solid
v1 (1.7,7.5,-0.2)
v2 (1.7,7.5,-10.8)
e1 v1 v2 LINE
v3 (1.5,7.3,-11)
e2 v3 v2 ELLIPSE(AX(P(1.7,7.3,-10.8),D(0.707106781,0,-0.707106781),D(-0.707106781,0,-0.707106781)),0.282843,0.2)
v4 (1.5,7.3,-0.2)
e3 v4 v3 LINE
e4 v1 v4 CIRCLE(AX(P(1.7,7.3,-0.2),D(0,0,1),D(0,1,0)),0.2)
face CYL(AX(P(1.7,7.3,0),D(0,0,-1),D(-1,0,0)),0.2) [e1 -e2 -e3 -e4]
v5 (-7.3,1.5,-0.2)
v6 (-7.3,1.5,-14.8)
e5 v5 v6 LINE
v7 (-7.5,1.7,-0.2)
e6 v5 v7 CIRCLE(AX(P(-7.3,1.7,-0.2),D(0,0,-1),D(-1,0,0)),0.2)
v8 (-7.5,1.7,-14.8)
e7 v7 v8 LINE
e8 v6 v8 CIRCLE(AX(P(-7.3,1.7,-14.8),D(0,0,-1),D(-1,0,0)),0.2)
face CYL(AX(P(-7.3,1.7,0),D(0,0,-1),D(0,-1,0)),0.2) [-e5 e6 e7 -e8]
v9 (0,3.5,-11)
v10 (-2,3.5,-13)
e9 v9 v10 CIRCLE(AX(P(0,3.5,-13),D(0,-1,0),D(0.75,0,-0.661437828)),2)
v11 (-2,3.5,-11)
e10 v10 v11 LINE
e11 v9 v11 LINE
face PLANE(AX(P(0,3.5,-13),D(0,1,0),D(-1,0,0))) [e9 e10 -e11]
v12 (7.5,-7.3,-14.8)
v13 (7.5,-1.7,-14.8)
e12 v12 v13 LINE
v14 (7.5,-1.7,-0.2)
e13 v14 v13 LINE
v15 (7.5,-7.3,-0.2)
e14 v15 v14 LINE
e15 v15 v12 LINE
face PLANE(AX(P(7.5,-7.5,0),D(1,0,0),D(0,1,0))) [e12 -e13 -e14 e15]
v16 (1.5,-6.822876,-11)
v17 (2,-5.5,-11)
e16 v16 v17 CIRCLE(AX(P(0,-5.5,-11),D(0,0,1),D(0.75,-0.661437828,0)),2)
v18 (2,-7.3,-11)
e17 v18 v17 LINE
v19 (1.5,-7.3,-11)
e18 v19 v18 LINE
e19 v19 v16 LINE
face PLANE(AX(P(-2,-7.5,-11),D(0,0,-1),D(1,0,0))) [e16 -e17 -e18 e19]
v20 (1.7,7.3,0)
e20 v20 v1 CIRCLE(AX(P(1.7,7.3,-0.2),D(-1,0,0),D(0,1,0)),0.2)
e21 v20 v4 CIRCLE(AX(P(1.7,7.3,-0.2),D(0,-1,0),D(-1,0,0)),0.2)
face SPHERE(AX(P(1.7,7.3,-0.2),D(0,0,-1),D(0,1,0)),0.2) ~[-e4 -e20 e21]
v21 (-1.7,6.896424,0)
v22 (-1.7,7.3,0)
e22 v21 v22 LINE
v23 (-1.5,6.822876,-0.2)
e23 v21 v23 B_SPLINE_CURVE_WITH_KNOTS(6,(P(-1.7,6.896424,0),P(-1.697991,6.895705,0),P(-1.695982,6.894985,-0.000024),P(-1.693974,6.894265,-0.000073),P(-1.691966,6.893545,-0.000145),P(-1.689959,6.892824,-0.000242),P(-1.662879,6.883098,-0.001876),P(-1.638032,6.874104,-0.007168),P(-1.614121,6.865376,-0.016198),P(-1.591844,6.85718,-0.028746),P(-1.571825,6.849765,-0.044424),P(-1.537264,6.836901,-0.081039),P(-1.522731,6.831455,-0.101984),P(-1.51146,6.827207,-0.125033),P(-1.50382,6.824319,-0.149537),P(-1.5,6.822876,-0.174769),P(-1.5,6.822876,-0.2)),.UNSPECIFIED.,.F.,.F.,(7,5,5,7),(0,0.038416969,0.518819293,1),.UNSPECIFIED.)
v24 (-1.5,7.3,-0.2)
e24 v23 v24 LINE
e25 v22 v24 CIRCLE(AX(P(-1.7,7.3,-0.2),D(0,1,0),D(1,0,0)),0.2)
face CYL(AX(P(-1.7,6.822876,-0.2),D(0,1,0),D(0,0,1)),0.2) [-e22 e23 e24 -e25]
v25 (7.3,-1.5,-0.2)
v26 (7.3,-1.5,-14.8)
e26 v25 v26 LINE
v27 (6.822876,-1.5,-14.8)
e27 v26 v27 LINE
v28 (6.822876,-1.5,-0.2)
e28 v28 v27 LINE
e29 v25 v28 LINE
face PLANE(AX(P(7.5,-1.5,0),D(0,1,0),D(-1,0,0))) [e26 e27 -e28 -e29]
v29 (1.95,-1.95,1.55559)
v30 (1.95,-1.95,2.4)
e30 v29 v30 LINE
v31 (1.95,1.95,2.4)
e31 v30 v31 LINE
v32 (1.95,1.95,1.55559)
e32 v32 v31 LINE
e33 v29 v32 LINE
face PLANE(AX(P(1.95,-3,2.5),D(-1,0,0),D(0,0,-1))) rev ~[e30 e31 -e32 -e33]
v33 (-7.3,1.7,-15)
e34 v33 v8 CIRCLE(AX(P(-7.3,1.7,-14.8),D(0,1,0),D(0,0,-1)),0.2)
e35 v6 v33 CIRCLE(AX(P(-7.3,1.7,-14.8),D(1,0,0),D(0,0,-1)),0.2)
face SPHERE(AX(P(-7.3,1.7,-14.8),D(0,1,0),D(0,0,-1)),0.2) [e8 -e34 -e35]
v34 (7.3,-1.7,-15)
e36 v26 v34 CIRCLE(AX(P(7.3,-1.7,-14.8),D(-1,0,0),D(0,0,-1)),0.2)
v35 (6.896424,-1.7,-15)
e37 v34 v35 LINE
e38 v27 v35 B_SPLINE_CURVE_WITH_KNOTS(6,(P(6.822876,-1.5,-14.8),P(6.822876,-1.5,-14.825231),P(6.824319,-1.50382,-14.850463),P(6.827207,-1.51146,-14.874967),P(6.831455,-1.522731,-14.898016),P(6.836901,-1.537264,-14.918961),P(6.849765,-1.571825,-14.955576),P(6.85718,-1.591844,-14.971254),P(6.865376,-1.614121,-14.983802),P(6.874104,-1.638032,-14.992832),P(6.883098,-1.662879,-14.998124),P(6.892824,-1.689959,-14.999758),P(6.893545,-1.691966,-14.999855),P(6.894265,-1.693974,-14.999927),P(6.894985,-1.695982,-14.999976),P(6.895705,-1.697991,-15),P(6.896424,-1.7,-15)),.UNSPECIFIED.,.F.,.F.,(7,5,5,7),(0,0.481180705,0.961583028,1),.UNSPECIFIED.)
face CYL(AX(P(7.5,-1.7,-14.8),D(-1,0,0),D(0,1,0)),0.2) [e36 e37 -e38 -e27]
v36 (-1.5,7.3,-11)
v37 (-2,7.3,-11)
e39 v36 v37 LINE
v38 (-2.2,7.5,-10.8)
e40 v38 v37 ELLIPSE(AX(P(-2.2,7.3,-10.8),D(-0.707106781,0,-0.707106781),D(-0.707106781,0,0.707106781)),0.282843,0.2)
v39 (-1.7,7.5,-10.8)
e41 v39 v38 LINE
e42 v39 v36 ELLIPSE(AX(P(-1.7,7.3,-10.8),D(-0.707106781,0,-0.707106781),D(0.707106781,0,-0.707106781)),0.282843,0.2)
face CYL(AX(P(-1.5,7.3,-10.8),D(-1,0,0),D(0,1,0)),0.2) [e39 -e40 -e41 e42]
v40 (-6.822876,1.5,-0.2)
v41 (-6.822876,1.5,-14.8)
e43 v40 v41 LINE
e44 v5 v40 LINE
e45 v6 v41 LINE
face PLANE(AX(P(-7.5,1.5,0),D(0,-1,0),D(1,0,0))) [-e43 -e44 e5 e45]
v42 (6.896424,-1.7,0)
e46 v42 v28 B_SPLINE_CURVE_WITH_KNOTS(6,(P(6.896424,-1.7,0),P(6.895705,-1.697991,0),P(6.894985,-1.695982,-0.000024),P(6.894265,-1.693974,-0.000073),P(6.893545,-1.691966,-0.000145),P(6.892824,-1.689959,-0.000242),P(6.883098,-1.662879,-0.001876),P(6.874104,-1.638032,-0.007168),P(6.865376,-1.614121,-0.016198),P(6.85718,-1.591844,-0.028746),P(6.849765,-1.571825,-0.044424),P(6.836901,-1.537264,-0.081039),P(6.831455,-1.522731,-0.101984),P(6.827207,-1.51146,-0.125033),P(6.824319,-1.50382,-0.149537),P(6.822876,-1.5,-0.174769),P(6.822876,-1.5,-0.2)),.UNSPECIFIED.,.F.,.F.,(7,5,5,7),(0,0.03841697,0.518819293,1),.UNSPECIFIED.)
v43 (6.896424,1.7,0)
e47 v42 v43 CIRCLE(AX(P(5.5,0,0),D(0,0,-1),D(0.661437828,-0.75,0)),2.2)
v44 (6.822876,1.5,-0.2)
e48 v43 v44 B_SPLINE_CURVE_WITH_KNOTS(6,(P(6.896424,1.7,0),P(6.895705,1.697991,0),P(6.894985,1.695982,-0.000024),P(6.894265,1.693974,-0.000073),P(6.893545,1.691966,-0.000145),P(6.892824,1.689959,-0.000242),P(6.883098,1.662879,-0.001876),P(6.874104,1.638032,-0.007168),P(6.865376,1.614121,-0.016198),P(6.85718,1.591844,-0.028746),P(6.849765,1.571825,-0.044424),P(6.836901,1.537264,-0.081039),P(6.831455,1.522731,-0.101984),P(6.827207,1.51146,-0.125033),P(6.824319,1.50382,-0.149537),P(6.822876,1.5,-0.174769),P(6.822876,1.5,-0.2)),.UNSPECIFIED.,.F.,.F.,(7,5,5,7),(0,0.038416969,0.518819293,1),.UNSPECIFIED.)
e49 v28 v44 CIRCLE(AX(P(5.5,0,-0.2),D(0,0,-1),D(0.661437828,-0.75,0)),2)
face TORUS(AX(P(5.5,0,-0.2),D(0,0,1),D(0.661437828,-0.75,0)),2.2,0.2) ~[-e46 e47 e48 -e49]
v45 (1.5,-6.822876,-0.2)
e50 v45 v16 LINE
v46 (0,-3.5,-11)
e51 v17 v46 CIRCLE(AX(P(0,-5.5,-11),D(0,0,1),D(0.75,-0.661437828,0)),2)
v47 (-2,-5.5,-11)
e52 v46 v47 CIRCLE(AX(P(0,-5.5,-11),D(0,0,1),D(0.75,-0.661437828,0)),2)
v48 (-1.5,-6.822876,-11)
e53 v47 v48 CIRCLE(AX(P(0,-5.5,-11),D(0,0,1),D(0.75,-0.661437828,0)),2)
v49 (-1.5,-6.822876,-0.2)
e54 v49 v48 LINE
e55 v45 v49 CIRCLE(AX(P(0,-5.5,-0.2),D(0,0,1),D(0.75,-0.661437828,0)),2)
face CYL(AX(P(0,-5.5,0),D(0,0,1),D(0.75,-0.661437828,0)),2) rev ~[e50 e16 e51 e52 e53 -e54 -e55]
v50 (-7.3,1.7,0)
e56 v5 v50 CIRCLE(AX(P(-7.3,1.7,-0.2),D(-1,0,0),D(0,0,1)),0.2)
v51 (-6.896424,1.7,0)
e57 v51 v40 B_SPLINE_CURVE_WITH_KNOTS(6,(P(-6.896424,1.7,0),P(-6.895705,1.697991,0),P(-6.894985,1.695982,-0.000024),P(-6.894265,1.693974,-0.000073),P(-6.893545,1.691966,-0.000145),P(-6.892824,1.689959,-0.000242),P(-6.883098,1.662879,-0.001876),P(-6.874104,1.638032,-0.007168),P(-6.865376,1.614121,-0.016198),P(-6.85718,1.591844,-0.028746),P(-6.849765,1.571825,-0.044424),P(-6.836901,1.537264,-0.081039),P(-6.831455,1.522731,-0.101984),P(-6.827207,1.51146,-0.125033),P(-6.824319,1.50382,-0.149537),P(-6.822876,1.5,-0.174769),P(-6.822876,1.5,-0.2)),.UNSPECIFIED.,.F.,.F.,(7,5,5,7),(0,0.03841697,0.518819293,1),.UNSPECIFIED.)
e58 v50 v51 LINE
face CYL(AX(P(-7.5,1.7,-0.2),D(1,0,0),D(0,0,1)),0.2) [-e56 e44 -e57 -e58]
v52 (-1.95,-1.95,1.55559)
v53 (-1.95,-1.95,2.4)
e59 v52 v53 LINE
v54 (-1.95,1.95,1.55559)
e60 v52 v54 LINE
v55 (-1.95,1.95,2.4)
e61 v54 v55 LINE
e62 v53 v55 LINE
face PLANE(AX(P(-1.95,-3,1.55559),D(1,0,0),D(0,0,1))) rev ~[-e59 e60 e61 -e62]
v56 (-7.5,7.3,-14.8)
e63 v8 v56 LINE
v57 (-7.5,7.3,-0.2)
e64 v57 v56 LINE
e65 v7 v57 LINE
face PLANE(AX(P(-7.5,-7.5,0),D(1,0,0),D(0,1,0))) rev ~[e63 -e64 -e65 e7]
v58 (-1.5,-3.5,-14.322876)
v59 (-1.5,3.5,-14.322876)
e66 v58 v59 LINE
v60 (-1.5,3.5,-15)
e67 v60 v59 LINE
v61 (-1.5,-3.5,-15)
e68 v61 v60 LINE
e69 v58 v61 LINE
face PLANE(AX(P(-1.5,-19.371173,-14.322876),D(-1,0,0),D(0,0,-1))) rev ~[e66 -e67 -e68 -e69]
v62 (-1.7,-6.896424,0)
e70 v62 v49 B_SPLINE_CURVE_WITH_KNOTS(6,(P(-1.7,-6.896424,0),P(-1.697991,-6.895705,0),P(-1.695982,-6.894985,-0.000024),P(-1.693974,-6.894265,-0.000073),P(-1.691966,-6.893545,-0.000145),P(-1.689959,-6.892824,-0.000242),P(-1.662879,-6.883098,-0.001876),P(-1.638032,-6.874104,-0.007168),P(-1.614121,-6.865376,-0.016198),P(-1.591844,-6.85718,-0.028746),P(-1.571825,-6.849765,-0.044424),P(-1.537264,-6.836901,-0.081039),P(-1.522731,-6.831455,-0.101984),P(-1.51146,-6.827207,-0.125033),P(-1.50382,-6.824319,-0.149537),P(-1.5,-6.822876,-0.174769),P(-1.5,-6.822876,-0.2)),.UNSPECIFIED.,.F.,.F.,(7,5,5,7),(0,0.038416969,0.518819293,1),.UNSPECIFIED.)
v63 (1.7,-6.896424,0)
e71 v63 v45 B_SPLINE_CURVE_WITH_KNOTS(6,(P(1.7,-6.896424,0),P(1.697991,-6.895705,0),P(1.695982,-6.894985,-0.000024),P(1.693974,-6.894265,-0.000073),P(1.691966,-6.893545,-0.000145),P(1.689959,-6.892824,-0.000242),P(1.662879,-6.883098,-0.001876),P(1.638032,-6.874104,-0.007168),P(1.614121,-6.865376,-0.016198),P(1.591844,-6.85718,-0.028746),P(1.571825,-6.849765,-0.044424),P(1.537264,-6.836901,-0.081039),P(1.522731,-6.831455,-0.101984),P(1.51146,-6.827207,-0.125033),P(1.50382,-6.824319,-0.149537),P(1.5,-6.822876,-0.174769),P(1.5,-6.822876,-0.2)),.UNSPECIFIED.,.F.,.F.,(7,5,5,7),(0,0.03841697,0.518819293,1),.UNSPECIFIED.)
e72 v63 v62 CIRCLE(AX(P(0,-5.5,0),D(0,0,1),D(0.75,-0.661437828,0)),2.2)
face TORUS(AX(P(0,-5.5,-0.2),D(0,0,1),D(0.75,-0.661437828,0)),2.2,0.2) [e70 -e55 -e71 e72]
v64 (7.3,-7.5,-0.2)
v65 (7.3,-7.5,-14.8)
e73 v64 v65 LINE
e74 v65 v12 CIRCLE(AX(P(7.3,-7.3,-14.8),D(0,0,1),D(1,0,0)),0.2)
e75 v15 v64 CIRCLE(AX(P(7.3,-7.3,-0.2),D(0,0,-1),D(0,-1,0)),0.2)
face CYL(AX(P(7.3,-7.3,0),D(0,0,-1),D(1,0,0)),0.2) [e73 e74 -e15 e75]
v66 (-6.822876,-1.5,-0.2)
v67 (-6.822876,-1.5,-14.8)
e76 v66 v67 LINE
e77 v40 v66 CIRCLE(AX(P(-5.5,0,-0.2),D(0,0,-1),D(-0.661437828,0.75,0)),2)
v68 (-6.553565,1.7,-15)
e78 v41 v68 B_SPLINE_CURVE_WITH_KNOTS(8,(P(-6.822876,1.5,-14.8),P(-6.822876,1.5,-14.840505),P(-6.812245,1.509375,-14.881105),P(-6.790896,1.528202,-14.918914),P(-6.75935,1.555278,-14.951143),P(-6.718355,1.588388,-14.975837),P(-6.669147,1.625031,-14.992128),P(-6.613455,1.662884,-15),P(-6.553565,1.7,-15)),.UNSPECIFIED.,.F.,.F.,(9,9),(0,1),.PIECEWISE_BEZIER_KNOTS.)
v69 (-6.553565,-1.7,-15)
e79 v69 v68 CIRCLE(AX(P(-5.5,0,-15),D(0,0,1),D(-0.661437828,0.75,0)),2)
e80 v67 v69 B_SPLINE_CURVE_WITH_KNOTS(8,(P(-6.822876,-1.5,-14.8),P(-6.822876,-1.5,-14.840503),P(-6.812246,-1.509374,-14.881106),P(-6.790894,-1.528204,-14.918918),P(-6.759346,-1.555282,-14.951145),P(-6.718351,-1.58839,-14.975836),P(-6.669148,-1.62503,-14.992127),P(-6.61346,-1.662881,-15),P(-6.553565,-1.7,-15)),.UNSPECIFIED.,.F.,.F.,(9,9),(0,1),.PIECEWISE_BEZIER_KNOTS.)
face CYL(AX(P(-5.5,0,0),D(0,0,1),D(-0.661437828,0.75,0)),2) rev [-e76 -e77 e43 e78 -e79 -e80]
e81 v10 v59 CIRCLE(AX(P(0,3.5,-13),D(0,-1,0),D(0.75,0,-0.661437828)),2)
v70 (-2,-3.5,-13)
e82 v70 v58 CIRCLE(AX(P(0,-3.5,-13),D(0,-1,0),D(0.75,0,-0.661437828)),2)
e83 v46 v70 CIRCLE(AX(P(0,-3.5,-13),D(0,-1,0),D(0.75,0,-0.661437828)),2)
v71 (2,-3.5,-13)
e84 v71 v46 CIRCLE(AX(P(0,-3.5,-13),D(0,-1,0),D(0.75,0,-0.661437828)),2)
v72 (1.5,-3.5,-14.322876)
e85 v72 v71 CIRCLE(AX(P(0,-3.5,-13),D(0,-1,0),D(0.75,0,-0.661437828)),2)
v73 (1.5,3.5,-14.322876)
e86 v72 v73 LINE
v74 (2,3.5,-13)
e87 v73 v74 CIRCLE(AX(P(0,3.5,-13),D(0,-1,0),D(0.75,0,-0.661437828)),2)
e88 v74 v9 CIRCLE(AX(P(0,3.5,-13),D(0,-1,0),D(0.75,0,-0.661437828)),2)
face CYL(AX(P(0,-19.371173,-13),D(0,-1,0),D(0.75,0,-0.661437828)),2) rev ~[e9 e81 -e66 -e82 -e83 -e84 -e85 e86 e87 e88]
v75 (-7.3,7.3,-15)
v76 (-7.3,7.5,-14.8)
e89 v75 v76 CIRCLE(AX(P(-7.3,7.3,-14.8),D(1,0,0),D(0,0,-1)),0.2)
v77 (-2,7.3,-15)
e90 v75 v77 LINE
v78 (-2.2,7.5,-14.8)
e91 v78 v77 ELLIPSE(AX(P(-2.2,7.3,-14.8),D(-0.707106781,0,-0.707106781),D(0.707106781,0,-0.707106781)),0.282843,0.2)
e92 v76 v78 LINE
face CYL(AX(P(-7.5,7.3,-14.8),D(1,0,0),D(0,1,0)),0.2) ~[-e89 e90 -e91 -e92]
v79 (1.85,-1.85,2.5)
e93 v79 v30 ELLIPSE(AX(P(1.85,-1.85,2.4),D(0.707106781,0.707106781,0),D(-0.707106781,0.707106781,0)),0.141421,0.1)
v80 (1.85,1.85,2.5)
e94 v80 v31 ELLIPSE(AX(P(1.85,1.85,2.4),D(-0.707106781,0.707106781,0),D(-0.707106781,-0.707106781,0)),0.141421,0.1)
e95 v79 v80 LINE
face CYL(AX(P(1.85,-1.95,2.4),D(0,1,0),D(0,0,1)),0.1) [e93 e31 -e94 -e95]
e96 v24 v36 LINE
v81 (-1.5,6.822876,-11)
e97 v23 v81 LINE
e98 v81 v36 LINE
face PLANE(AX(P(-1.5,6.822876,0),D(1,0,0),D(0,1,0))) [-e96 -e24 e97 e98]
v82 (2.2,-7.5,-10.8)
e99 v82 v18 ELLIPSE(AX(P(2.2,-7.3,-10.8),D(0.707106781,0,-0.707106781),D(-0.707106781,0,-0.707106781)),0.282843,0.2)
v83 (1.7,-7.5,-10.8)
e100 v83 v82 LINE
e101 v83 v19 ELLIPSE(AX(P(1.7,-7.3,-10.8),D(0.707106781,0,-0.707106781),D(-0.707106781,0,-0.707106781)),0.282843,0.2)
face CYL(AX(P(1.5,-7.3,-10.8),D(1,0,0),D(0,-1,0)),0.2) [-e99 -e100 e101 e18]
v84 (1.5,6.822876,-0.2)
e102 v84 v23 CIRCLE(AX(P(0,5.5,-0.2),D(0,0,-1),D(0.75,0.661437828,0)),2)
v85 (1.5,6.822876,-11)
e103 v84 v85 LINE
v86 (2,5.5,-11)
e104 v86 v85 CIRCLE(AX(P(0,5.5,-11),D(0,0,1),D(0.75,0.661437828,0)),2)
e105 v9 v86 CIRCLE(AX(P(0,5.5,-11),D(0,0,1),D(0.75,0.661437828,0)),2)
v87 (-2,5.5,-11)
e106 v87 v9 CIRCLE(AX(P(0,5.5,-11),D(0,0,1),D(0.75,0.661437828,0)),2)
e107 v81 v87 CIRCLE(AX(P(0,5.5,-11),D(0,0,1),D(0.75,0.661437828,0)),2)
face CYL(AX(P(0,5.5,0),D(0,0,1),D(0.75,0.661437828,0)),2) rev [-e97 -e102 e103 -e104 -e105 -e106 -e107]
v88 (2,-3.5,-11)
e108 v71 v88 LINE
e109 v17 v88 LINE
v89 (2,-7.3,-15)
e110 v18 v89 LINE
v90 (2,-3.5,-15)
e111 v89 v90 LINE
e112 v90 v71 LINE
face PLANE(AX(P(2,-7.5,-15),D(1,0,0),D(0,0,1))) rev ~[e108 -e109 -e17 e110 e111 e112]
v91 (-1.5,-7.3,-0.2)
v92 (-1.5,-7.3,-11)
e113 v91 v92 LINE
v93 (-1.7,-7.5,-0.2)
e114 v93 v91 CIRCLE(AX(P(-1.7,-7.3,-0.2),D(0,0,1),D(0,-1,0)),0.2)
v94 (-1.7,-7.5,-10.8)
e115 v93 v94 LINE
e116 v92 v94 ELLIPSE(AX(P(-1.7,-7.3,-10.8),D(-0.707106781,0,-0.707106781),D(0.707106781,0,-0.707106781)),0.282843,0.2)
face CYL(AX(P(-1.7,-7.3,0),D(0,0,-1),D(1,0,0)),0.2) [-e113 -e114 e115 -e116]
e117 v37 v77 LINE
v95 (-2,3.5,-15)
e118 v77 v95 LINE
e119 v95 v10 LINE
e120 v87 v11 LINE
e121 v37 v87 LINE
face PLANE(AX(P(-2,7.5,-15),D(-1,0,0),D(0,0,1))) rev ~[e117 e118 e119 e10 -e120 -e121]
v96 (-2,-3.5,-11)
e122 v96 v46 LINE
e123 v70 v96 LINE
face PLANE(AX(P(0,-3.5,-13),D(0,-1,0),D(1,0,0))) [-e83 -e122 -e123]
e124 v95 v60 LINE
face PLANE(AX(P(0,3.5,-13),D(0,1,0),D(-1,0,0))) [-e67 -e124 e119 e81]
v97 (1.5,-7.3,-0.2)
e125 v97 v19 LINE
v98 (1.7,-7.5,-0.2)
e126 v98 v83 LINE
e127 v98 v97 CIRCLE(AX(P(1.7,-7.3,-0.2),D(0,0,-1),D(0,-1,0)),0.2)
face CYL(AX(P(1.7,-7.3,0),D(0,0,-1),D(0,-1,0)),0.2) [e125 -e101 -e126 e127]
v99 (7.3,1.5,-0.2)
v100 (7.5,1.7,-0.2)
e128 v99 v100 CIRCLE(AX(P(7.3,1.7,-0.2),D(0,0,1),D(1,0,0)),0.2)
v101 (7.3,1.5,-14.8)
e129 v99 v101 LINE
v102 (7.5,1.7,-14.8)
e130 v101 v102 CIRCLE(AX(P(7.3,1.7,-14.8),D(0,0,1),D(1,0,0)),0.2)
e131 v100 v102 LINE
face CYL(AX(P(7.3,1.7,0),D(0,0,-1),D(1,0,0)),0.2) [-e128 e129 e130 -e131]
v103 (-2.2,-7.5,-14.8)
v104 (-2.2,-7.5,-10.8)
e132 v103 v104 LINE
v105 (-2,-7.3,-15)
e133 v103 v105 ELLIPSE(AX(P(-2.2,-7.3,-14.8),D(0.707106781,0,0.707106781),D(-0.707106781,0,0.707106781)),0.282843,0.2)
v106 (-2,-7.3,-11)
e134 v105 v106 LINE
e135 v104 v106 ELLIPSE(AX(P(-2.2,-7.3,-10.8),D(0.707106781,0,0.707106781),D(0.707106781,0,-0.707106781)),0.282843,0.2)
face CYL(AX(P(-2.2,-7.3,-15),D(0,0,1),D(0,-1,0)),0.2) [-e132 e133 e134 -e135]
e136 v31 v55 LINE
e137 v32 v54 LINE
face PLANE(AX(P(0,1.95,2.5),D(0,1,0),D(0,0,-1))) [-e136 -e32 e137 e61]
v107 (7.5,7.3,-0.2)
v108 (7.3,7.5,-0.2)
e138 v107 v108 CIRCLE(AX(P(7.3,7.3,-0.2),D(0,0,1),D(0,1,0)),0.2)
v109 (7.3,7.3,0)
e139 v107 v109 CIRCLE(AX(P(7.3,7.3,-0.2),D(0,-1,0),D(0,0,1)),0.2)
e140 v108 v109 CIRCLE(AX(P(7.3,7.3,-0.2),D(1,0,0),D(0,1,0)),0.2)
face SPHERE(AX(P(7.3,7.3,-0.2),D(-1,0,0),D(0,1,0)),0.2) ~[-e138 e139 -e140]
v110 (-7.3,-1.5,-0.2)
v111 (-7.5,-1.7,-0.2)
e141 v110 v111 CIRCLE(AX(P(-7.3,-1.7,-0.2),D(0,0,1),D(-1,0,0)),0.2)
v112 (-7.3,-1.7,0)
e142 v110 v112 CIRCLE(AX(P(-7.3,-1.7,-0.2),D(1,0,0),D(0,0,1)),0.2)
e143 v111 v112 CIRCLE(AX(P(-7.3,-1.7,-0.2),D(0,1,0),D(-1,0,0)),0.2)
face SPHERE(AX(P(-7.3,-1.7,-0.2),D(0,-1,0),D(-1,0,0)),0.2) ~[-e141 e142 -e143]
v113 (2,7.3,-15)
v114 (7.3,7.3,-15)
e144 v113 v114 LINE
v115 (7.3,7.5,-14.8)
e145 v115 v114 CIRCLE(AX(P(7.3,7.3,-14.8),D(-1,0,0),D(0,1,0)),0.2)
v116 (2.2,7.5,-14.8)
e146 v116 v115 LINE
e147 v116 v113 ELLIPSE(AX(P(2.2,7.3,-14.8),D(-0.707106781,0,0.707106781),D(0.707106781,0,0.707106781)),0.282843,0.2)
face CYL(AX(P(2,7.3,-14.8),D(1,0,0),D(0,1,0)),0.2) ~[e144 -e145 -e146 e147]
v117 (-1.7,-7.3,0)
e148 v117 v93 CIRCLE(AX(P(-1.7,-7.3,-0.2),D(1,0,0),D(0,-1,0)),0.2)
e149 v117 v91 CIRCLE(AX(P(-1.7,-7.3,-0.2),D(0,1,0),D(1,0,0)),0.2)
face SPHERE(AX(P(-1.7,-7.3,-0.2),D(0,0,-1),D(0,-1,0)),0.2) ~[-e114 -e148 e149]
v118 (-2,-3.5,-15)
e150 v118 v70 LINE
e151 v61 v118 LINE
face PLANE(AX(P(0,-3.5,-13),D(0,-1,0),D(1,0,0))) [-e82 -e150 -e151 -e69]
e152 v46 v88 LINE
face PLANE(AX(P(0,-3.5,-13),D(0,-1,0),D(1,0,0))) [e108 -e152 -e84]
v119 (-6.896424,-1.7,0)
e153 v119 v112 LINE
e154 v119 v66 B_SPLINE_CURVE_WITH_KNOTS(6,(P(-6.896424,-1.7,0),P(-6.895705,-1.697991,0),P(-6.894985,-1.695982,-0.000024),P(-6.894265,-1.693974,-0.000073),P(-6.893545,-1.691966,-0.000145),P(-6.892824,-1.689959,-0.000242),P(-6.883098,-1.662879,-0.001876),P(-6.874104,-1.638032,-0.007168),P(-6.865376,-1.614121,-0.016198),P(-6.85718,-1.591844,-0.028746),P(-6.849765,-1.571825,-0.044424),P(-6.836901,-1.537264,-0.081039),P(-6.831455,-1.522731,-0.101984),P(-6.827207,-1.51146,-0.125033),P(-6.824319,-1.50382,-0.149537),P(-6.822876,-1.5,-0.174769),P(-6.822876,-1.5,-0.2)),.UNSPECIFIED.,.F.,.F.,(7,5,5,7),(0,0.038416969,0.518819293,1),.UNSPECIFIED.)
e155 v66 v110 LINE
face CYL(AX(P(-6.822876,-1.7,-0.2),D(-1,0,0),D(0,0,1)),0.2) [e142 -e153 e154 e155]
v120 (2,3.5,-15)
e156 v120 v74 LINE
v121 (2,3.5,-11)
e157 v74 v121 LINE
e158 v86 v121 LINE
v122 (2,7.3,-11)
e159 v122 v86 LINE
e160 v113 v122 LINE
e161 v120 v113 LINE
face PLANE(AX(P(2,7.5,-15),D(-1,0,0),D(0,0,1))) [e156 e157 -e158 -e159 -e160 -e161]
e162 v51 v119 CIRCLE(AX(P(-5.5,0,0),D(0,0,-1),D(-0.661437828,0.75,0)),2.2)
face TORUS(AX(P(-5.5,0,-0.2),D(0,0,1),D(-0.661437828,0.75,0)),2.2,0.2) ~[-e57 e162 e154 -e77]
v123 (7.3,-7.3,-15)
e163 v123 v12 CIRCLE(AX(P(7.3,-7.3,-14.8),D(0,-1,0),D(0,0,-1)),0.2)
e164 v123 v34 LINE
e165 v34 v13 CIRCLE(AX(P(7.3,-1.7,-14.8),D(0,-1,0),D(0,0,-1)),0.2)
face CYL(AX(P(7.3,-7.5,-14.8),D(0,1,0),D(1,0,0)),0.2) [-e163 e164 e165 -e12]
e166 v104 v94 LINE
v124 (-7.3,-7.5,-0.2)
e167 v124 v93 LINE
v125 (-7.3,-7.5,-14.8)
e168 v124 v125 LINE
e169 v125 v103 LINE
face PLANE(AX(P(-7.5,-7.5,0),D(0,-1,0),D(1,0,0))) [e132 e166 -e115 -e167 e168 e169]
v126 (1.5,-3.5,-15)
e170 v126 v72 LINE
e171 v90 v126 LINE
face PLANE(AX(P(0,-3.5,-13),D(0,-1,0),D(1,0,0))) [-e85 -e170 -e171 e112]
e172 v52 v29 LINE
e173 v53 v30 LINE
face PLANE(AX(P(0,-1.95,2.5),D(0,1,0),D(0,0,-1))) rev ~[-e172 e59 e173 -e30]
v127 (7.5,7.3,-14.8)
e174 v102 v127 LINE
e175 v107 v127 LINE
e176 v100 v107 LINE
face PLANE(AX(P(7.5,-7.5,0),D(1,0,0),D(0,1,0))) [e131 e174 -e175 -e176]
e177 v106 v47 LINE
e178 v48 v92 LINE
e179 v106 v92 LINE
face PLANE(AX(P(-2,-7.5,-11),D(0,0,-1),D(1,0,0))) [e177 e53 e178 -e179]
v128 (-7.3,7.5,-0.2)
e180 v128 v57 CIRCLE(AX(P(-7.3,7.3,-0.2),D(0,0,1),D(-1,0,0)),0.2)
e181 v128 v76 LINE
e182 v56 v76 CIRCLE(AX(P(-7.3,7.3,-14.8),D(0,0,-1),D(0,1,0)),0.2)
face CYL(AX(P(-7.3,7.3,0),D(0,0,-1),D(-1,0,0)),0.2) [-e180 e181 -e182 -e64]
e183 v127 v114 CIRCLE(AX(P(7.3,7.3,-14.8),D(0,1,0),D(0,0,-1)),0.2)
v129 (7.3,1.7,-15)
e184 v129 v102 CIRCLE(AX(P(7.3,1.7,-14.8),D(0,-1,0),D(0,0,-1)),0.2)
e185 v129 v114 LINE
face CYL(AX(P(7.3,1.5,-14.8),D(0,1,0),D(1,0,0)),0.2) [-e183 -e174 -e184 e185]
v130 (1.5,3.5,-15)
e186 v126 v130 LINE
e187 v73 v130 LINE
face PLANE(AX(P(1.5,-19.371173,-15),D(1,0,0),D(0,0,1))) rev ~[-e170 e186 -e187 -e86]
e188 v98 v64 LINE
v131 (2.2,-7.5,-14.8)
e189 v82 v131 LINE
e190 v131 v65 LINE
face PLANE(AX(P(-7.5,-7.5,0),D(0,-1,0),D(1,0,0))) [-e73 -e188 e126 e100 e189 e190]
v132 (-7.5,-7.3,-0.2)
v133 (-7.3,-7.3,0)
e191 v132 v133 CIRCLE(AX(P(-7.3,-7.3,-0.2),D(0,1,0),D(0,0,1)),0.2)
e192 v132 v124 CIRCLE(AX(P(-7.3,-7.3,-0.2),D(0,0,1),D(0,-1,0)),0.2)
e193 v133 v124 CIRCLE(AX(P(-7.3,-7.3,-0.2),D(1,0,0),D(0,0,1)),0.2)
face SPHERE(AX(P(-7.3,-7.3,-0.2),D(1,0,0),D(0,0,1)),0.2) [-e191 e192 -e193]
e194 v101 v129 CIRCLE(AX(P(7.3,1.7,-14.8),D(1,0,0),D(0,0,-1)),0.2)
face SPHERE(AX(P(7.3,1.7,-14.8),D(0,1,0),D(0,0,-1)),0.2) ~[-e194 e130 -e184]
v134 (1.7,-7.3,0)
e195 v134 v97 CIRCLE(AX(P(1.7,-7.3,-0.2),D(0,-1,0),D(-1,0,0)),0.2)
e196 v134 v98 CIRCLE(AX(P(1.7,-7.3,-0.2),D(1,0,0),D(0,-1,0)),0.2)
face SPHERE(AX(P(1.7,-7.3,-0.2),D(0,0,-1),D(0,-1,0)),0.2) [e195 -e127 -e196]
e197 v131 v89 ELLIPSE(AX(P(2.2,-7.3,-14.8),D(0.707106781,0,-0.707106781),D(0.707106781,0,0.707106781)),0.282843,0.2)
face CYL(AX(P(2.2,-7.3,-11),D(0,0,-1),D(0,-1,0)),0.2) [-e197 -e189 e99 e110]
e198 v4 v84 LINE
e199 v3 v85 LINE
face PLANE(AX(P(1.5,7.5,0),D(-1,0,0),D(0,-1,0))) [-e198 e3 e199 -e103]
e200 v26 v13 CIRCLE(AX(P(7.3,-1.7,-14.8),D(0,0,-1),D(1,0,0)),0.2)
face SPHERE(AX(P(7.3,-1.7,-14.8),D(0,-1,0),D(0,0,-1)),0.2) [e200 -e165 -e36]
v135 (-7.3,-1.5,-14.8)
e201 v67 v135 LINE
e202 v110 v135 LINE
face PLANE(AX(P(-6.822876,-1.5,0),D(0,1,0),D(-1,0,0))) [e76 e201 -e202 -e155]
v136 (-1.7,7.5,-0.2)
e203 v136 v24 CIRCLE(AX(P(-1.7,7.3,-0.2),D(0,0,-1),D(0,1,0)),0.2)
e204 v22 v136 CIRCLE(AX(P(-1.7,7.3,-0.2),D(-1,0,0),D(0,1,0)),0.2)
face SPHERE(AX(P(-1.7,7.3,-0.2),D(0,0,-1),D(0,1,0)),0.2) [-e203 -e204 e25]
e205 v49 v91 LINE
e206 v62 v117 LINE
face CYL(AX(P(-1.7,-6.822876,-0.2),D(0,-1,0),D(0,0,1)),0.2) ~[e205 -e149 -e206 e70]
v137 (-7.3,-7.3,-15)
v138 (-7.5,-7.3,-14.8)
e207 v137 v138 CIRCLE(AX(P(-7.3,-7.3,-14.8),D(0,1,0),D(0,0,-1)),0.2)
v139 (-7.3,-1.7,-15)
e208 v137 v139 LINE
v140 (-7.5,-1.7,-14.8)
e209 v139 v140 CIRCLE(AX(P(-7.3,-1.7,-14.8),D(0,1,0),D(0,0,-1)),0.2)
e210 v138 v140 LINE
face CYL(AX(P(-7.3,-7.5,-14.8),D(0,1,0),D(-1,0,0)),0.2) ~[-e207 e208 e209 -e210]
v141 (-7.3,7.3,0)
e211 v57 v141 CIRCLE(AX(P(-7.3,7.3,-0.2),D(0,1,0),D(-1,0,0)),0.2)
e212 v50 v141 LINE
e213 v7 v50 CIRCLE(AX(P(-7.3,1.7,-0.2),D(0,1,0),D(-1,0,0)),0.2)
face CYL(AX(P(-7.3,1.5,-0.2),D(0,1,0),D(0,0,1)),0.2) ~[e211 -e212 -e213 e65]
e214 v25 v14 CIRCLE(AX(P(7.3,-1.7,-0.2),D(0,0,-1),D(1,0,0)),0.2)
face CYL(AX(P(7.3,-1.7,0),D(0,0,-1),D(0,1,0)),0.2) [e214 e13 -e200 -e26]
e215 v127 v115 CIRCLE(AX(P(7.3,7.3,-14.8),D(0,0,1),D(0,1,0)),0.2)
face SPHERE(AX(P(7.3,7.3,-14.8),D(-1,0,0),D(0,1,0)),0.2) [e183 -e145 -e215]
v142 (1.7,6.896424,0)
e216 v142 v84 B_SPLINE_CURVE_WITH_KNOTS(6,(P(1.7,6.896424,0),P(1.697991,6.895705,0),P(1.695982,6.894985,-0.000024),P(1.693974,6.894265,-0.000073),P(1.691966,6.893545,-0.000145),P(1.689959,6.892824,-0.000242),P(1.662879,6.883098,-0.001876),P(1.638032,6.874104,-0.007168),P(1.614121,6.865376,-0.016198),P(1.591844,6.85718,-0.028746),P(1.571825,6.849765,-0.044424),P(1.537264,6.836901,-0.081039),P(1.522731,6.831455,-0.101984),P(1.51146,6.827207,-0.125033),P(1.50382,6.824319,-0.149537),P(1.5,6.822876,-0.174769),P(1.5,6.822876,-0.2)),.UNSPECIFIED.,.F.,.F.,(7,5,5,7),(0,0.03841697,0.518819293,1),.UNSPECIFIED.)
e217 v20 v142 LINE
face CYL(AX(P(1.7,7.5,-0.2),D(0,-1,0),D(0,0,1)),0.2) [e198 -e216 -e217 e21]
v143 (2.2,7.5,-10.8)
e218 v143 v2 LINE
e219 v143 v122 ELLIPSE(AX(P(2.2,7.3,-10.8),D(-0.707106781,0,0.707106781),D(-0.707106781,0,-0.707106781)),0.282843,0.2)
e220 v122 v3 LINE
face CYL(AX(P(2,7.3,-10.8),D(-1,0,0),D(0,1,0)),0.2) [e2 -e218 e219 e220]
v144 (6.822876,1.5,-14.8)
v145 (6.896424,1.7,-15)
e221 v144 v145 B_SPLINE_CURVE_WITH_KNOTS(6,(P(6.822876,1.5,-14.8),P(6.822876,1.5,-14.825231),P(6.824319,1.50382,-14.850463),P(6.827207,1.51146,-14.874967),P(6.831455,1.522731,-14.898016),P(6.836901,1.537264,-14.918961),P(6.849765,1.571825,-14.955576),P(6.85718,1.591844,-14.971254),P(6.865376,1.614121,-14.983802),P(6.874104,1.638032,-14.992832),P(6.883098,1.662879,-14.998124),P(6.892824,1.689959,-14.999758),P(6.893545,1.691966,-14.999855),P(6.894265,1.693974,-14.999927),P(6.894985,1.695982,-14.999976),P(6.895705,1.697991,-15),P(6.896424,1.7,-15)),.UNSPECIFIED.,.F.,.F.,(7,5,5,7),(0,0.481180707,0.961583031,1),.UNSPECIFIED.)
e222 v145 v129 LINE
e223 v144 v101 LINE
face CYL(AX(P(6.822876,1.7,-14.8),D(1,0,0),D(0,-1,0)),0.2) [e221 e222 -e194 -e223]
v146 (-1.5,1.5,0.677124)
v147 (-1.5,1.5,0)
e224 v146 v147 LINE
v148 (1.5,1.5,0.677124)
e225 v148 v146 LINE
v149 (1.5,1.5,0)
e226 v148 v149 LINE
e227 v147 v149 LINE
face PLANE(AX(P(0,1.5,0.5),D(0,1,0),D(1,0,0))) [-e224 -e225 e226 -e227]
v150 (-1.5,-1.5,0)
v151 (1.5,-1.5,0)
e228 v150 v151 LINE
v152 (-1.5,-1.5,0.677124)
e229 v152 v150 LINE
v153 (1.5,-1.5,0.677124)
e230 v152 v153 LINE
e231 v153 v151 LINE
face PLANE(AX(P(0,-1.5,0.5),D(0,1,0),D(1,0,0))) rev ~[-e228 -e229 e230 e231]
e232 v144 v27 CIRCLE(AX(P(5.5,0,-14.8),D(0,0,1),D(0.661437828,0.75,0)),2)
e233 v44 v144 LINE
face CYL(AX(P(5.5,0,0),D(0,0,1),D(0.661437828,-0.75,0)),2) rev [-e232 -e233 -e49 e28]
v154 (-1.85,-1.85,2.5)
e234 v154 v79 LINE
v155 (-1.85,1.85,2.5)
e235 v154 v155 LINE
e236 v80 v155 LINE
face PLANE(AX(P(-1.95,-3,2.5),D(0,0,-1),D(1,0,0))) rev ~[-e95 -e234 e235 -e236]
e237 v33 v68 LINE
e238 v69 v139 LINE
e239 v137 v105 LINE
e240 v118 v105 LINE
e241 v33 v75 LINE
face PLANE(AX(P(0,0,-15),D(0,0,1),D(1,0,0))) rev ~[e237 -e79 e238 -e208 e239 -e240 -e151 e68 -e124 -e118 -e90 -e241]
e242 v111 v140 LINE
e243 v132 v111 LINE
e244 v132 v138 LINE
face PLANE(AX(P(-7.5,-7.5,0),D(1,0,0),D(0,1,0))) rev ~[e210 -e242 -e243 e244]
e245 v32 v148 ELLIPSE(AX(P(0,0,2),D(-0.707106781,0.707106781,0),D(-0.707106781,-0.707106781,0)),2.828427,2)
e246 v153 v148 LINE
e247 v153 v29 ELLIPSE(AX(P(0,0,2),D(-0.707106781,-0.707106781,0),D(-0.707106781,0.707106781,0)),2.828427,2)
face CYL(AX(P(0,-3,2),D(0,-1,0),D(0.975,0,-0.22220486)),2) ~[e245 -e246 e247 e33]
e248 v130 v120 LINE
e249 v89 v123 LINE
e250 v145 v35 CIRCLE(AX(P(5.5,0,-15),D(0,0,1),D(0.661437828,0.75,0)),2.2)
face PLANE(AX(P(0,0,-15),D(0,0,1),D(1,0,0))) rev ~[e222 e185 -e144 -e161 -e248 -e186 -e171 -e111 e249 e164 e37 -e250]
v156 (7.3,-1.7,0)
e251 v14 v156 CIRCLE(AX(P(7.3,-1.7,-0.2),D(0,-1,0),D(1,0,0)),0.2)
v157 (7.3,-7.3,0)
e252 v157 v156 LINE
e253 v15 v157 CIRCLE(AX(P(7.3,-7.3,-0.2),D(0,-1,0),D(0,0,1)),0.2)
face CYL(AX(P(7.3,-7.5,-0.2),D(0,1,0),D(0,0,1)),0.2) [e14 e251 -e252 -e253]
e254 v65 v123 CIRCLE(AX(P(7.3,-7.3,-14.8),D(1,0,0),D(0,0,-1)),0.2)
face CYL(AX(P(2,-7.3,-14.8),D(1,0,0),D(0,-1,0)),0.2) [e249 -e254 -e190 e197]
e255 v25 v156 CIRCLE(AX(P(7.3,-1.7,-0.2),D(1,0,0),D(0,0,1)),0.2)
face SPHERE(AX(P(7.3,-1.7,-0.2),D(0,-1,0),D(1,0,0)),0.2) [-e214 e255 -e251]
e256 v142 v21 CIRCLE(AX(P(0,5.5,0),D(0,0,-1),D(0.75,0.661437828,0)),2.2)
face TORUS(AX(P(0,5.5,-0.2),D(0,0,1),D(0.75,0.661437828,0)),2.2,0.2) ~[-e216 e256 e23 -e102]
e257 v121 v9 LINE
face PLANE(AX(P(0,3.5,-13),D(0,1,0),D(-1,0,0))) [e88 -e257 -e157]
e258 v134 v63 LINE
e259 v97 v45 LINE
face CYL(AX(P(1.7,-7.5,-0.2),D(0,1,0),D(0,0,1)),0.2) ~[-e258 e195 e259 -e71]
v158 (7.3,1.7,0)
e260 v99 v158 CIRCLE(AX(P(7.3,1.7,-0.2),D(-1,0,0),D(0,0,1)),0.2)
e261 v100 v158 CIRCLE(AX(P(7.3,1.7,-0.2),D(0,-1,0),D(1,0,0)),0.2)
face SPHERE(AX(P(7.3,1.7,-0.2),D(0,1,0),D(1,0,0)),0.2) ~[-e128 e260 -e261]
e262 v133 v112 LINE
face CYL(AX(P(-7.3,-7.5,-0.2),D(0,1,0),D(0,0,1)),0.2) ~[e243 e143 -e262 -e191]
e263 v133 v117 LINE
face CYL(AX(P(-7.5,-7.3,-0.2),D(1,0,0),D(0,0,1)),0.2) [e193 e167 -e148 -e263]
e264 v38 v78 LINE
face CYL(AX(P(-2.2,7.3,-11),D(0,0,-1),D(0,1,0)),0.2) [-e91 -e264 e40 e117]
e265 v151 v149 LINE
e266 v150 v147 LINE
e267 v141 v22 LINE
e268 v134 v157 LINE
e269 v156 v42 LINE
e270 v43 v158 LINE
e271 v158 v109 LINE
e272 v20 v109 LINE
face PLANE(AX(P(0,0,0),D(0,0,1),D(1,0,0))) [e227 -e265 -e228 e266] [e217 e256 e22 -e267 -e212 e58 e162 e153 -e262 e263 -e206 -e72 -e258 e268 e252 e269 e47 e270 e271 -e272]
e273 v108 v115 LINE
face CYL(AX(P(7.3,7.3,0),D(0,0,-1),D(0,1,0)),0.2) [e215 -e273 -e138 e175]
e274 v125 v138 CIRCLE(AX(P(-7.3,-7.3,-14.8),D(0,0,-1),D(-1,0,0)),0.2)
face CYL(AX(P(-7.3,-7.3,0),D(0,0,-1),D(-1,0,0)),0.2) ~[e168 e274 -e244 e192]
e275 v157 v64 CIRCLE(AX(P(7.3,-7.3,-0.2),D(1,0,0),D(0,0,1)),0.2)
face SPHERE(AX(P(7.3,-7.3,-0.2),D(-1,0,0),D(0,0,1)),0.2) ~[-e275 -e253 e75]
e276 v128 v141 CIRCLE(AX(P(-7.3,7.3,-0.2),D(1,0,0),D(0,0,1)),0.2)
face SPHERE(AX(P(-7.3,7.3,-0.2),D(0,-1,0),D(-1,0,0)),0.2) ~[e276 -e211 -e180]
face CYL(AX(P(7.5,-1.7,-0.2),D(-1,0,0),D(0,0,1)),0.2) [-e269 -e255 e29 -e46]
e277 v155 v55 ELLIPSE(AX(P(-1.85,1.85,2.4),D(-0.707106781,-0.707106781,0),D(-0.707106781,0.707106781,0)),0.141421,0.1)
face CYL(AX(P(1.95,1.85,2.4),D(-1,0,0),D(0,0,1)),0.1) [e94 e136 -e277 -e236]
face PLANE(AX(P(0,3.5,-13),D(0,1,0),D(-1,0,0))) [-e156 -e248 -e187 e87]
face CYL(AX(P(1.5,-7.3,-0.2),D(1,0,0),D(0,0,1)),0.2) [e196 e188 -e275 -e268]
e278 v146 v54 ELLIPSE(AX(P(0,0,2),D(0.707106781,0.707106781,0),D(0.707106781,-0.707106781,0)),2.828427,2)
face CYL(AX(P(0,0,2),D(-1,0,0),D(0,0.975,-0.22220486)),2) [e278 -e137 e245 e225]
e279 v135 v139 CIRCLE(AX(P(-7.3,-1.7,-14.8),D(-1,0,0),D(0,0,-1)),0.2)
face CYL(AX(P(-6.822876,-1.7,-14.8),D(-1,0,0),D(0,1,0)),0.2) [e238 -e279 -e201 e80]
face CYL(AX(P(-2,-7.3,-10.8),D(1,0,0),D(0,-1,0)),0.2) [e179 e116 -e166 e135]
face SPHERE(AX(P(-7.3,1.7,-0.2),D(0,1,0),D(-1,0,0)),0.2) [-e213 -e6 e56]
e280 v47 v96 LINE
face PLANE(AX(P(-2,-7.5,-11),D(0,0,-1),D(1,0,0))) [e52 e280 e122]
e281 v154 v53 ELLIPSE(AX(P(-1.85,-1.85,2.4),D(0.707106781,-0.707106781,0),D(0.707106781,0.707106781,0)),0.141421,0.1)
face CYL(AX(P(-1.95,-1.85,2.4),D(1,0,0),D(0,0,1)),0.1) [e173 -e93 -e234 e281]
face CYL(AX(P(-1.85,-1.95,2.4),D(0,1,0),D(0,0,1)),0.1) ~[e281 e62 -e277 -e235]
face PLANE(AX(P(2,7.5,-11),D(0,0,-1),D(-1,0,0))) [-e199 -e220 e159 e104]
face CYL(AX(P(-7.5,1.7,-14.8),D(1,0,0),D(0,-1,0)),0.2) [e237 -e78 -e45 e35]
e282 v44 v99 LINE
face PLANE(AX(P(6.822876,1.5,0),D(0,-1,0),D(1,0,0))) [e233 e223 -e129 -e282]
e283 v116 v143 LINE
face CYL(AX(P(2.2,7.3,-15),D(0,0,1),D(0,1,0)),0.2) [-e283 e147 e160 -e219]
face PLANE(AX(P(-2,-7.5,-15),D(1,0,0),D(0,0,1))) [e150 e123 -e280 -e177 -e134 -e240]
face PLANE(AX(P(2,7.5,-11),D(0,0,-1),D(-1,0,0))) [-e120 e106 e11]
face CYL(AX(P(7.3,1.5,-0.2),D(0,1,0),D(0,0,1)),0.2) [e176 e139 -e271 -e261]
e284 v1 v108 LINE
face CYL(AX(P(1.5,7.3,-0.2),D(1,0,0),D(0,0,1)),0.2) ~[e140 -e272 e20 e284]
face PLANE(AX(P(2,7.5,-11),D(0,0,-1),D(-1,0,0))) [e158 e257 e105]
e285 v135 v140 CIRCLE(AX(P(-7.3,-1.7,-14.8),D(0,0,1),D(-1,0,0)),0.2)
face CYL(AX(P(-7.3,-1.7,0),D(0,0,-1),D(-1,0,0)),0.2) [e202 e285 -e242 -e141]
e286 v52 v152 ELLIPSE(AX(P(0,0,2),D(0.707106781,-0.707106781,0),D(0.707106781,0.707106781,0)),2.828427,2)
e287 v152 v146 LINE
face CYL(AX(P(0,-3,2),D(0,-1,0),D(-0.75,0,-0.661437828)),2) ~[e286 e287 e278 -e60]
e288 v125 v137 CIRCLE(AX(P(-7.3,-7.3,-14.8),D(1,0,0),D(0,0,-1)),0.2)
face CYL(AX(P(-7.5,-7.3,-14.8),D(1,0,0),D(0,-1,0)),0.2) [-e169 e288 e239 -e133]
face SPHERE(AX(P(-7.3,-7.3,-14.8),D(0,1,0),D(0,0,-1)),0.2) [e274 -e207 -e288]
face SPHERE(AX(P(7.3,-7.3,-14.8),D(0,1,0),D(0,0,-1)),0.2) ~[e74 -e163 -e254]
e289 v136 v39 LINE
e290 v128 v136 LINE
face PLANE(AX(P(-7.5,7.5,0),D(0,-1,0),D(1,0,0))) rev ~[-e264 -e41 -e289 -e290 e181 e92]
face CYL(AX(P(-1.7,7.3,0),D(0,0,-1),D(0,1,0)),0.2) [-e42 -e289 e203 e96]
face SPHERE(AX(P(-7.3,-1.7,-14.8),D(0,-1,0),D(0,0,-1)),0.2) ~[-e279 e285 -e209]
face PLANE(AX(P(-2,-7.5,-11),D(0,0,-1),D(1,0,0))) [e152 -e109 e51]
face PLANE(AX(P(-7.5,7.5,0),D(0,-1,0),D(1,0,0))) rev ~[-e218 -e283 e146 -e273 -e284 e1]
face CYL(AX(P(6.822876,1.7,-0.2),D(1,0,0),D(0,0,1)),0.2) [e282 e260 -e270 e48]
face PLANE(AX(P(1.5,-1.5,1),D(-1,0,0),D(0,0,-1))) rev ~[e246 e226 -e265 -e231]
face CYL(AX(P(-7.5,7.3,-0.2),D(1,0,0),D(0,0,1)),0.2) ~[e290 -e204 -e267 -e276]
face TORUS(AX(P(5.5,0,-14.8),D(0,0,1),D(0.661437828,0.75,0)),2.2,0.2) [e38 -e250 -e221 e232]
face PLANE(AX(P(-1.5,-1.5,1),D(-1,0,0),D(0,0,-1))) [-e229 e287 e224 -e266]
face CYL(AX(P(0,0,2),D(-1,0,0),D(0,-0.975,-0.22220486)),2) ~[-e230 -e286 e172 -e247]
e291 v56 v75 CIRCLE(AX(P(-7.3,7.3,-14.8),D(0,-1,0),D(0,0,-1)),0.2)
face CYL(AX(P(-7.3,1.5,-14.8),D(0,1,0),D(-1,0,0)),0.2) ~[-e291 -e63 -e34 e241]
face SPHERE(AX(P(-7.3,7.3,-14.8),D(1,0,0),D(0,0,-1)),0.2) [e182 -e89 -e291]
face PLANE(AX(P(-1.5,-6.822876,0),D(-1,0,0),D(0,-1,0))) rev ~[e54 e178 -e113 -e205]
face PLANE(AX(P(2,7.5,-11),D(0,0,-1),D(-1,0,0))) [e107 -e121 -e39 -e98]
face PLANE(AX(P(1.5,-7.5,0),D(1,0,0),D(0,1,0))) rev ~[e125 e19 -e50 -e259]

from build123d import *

# Parameters (mm, degrees)
SKETCH_1_W                      = 15
SKETCH_1_H                      = 15
EXTRUDE_1_DEPTH                 = 15
EXTRUDE_2_DEPTH                 = 1.5
EXTRUDE_2_DEPTH_BACK            = 1.5
SKETCH_2_W                      = 3
SKETCH_2_H                      = 1
EXTRUDE_3_DEPTH                 = 3
EXTRUDE_3_DEPTH_BACK            = 3
CUT_EXTRUDE_2_DEPTH             = 19.371173071
SKETCH_6_W                      = 4
SKETCH_6_H                      = 4
CUT_EXTRUDE_3_DEPTH             = 4
SKETCH_9_W                      = 4
SKETCH_9_H                      = 4
CUT_EXTRUDE_5_DEPTH             = 4
CUT_EXTRUDE_6_DEPTH             = 19.371173071
CUT_EXTRUDE_6_DEPTH_BACK        = 19.371173071
CUT_EXTRUDE_7_REACH             = 20.371
CUT_EXTRUDE_7_DIRECTION_2_REACH = 20.371
FILLET_2_R                      = 0.1
FILLET_3_R                      = 0.2


with BuildPart() as part:
    # 草图1 → 凸台-拉伸1 (new body)
    with BuildSketch(Plane.XY):
        Rectangle(SKETCH_1_W, SKETCH_1_H)
    extrude(amount=-EXTRUDE_1_DEPTH)

    # 草图2 → 凸台-拉伸2 (add, two sides: drawn at the far end of the back side and taken through both)
    with BuildSketch(Plane(origin=(0, 0, 0), x_dir=(1, 0, 0), z_dir=(0, 1, 0)).offset(-EXTRUDE_2_DEPTH_BACK)):
        with Locations((0, -0.5)):
            Rectangle(SKETCH_2_W, SKETCH_2_H)
    extrude(amount=EXTRUDE_2_DEPTH + EXTRUDE_2_DEPTH_BACK)

    # 草图3 → 凸台-拉伸3 (add, two sides: drawn at the far end of the back side and taken through both)
    with BuildSketch(Plane(origin=(0, 0, 0), x_dir=(1, 0, 0), z_dir=(0, 1, 0)).offset(-EXTRUDE_3_DEPTH_BACK)):
        with BuildLine():
            Line((-1.95, -2.5), (1.95, -2.5))
            Line((1.95, -2.5), (1.95, -1.555590279))
            ThreePointArc((1.95, -1.555590279), (1.780042303, -1.088161527), (1.5, -0.677124344))
            Line((1.5, -0.677124344), (-1.5, -0.677124344))
            ThreePointArc((-1.5, -0.677124344), (-1.780042303, -1.088161527), (-1.95, -1.555590279))
            Line((-1.95, -1.555590279), (-1.95, -2.5))
        make_face()
    extrude(amount=EXTRUDE_3_DEPTH + EXTRUDE_3_DEPTH_BACK)

    # 草图5 → 切除-拉伸2 (cut, through all)
    with BuildSketch(Plane.XY):
        with BuildLine():
            Line((-1.5, -7.5), (1.5, -7.5))
            Line((1.5, -7.5), (1.5, -6.822875656))
            ThreePointArc((1.5, -6.822875656), (0, -3.5), (-1.5, -6.822875656))
            Line((-1.5, -6.822875656), (-1.5, -7.5))
        make_face()
        with BuildLine():
            Line((1.5, 7.5), (1.5, 6.822875656))
            ThreePointArc((1.5, 6.822875656), (0, 3.5), (-1.5, 6.822875656))
            Line((-1.5, 6.822875656), (-1.5, 7.5))
            Line((-1.5, 7.5), (1.5, 7.5))
        make_face()
        with BuildLine():
            Line((-7.5, 1.5), (-6.822875656, 1.5))
            ThreePointArc((-6.822875656, 1.5), (-3.5, 0), (-6.822875656, -1.5))
            Line((-6.822875656, -1.5), (-7.5, -1.5))
            Line((-7.5, -1.5), (-7.5, 1.5))
        make_face()
        with BuildLine():
            Line((7.5, -1.5), (6.822875656, -1.5))
            ThreePointArc((6.822875656, -1.5), (3.5, 0), (6.822875656, 1.5))
            Line((6.822875656, 1.5), (7.5, 1.5))
            Line((7.5, 1.5), (7.5, -1.5))
        make_face()
    extrude(amount=-CUT_EXTRUDE_2_DEPTH, mode=Mode.SUBTRACT)

    # 草图6 → 切除-拉伸3 (cut)
    with BuildSketch(Plane(origin=(0, 7.5, 0), x_dir=(-1, 0, 0), z_dir=(0, 1, 0))):
        with Locations((0, -13)):
            Rectangle(SKETCH_6_W, SKETCH_6_H)
    extrude(amount=-CUT_EXTRUDE_3_DEPTH, mode=Mode.SUBTRACT)

    # 草图9 → 切除-拉伸5 (cut)
    with BuildSketch(Plane.XZ.offset(7.5)):
        with Locations((0, -13)):
            Rectangle(SKETCH_9_W, SKETCH_9_H)
    extrude(amount=-CUT_EXTRUDE_5_DEPTH, mode=Mode.SUBTRACT)

    # 草图11 → 切除-拉伸6 (cut, two sides: drawn at the far end of the back side and taken through both)
    with BuildSketch(Plane(origin=(0, 0, 0), x_dir=(1, 0, 0), z_dir=(0, 1, 0)).offset(-CUT_EXTRUDE_6_DEPTH_BACK)):
        with BuildLine():
            Line((-1.5, 15), (1.5, 15))
            Line((1.5, 15), (1.5, 14.322875656))
            ThreePointArc((1.5, 14.322875656), (0, 11), (-1.5, 14.322875656))
            Line((-1.5, 14.322875656), (-1.5, 15))
        make_face()
    extrude(amount=CUT_EXTRUDE_6_DEPTH + CUT_EXTRUDE_6_DEPTH_BACK, mode=Mode.SUBTRACT)

    # 草图12 → 切除-拉伸7 (cut, up to next)
    with BuildSketch(Plane(origin=(0, 0, 0), x_dir=(0, 0, -1), z_dir=(1, 0, 0)), mode=Mode.PRIVATE) as cut_extrude_7_sk1:
        with BuildLine():
            Line((-2.5, 3), (-2.5, 1.95))
            Line((-2.5, 1.95), (-1.555590279, 1.95))
            ThreePointArc((-1.555590279, 1.95), (-1.088161527, 1.780042303), (-0.677124344, 1.5))
            Line((-0.677124344, 1.5), (-0.677124344, 3))
            Line((-0.677124344, 3), (-2.5, 3))
        make_face()
    cut_extrude_7_tool1 = extrude(cut_extrude_7_sk1.sketch, amount=-CUT_EXTRUDE_7_REACH, mode=Mode.PRIVATE) & part.part
    # 草图12 → 切除-拉伸7 (cut, up to next)
    with BuildSketch(Plane(origin=(0, 0, 0), x_dir=(0, 0, -1), z_dir=(1, 0, 0)), mode=Mode.PRIVATE) as cut_extrude_7_sk2:
        with BuildLine():
            Line((-2.5, -1.95), (-1.555590279, -1.95))
            ThreePointArc((-1.555590279, -1.95), (-1.088161527, -1.780042303), (-0.677124344, -1.5))
            Line((-0.677124344, -1.5), (-0.677124344, -3))
            Line((-0.677124344, -3), (-2.5, -3))
            Line((-2.5, -3), (-2.5, -1.95))
        make_face()
    cut_extrude_7_tool2 = extrude(cut_extrude_7_sk2.sketch, amount=-CUT_EXTRUDE_7_REACH, mode=Mode.PRIVATE) & part.part
    add(cut_extrude_7_tool1.solids().sort_by_distance((0, 2.424924, 1.539049))[0], mode=Mode.SUBTRACT)
    add(cut_extrude_7_tool2.solids().sort_by_distance((0, -2.424924, 1.539049))[0], mode=Mode.SUBTRACT)

    # 草图12 → 切除-拉伸7 direction 2 (cut, up to next)
    with BuildSketch(Plane(origin=(0, 0, 0), x_dir=(0, 0, -1), z_dir=(1, 0, 0)), mode=Mode.PRIVATE) as cut_extrude_7_direction_2_sk1:
        with BuildLine():
            Line((-2.5, 3), (-2.5, 1.95))
            Line((-2.5, 1.95), (-1.555590279, 1.95))
            ThreePointArc((-1.555590279, 1.95), (-1.088161527, 1.780042303), (-0.677124344, 1.5))
            Line((-0.677124344, 1.5), (-0.677124344, 3))
            Line((-0.677124344, 3), (-2.5, 3))
        make_face()
    cut_extrude_7_direction_2_tool1 = extrude(cut_extrude_7_direction_2_sk1.sketch, amount=CUT_EXTRUDE_7_DIRECTION_2_REACH, mode=Mode.PRIVATE) & part.part
    # 草图12 → 切除-拉伸7 direction 2 (cut, up to next)
    with BuildSketch(Plane(origin=(0, 0, 0), x_dir=(0, 0, -1), z_dir=(1, 0, 0)), mode=Mode.PRIVATE) as cut_extrude_7_direction_2_sk2:
        with BuildLine():
            Line((-2.5, -1.95), (-1.555590279, -1.95))
            ThreePointArc((-1.555590279, -1.95), (-1.088161527, -1.780042303), (-0.677124344, -1.5))
            Line((-0.677124344, -1.5), (-0.677124344, -3))
            Line((-0.677124344, -3), (-2.5, -3))
            Line((-2.5, -3), (-2.5, -1.95))
        make_face()
    cut_extrude_7_direction_2_tool2 = extrude(cut_extrude_7_direction_2_sk2.sketch, amount=CUT_EXTRUDE_7_DIRECTION_2_REACH, mode=Mode.PRIVATE) & part.part
    add(cut_extrude_7_direction_2_tool1.solids().sort_by_distance((0, 2.424924, 1.539049))[0], mode=Mode.SUBTRACT)
    add(cut_extrude_7_direction_2_tool2.solids().sort_by_distance((0, -2.424924, 1.539049))[0], mode=Mode.SUBTRACT)

    # 圆角2
    fillet_2_edges = [part.edges().sort_by_distance(p)[0] for p in [
        (0, 1.95, 2.5),
        (-1.95, 0, 2.5),
        (1.95, 0, 2.5),
        (0, -1.95, 2.5),
    ]]
    fillet(fillet_2_edges, radius=FILLET_2_R)

    # 圆角3
    fillet_3_edges = [part.edges().sort_by_distance(p)[0] for p in [
        (7.5, -4.5, -15),
        (1.5, 7.5, -5.5),
        (-1.5, 7.5, -5.5),
        (-4.75, 7.5, -15),
        (-1.75, 7.5, -11),
        (-2, 7.5, -13),
        (1.75, 7.5, -11),
        (2, 7.5, -13),
        (4.75, 7.5, -15),
        (-1.5, -7.5, -5.5),
        (1.5, -7.5, -5.5),
        (4.75, -7.5, -15),
        (2, -7.5, -13),
        (1.75, -7.5, -11),
        (-1.75, -7.5, -11),
        (-2, -7.5, -13),
        (-7.5, 4.5, -15),
        (4.5, 7.5, 0),
        (4.5, -7.5, 0),
        (7.5, -4.5, 0),
        (0, -3.5, 0),
        (-4.5, -7.5, 0),
        (-1.5, -7.161437828, 0),
        (1.5, -7.161437828, 0),
        (-7.5, 4.5, 0),
        (-7.5, -4.5, -15),
        (-7.5, -4.5, 0),
        (-7.161437828, -1.5, -15),
        (-7.5, -1.5, -7.5),
        (-7.161437828, 1.5, -15),
        (-7.5, 1.5, -7.5),
        (-3.5, 0, 0),
        (-7.161437828, 1.5, 0),
        (-7.161437828, -1.5, 0),
        (-4.75, -7.5, -15),
        (-7.5, 7.5, -7.5),
        (7.5, 7.5, -7.5),
        (-4.5, 7.5, 0),
        (7.5, -7.5, -7.5),
        (-7.5, -7.5, -7.5),
        (0, 3.5, 0),
        (1.5, 7.161437828, 0),
        (-1.5, 7.161437828, 0),
        (7.5, 4.5, -15),
        (7.5, 4.5, 0),
        (3.5, 0, -15),
        (7.161437828, 1.5, -15),
        (7.5, 1.5, -7.5),
        (7.161437828, -1.5, -15),
        (7.5, -1.5, -7.5),
        (3.5, 0, 0),
        (7.161437828, -1.5, 0),
        (7.161437828, 1.5, 0),
    ]]
    fillet(fillet_3_edges, radius=FILLET_3_R)


solid = part.part
